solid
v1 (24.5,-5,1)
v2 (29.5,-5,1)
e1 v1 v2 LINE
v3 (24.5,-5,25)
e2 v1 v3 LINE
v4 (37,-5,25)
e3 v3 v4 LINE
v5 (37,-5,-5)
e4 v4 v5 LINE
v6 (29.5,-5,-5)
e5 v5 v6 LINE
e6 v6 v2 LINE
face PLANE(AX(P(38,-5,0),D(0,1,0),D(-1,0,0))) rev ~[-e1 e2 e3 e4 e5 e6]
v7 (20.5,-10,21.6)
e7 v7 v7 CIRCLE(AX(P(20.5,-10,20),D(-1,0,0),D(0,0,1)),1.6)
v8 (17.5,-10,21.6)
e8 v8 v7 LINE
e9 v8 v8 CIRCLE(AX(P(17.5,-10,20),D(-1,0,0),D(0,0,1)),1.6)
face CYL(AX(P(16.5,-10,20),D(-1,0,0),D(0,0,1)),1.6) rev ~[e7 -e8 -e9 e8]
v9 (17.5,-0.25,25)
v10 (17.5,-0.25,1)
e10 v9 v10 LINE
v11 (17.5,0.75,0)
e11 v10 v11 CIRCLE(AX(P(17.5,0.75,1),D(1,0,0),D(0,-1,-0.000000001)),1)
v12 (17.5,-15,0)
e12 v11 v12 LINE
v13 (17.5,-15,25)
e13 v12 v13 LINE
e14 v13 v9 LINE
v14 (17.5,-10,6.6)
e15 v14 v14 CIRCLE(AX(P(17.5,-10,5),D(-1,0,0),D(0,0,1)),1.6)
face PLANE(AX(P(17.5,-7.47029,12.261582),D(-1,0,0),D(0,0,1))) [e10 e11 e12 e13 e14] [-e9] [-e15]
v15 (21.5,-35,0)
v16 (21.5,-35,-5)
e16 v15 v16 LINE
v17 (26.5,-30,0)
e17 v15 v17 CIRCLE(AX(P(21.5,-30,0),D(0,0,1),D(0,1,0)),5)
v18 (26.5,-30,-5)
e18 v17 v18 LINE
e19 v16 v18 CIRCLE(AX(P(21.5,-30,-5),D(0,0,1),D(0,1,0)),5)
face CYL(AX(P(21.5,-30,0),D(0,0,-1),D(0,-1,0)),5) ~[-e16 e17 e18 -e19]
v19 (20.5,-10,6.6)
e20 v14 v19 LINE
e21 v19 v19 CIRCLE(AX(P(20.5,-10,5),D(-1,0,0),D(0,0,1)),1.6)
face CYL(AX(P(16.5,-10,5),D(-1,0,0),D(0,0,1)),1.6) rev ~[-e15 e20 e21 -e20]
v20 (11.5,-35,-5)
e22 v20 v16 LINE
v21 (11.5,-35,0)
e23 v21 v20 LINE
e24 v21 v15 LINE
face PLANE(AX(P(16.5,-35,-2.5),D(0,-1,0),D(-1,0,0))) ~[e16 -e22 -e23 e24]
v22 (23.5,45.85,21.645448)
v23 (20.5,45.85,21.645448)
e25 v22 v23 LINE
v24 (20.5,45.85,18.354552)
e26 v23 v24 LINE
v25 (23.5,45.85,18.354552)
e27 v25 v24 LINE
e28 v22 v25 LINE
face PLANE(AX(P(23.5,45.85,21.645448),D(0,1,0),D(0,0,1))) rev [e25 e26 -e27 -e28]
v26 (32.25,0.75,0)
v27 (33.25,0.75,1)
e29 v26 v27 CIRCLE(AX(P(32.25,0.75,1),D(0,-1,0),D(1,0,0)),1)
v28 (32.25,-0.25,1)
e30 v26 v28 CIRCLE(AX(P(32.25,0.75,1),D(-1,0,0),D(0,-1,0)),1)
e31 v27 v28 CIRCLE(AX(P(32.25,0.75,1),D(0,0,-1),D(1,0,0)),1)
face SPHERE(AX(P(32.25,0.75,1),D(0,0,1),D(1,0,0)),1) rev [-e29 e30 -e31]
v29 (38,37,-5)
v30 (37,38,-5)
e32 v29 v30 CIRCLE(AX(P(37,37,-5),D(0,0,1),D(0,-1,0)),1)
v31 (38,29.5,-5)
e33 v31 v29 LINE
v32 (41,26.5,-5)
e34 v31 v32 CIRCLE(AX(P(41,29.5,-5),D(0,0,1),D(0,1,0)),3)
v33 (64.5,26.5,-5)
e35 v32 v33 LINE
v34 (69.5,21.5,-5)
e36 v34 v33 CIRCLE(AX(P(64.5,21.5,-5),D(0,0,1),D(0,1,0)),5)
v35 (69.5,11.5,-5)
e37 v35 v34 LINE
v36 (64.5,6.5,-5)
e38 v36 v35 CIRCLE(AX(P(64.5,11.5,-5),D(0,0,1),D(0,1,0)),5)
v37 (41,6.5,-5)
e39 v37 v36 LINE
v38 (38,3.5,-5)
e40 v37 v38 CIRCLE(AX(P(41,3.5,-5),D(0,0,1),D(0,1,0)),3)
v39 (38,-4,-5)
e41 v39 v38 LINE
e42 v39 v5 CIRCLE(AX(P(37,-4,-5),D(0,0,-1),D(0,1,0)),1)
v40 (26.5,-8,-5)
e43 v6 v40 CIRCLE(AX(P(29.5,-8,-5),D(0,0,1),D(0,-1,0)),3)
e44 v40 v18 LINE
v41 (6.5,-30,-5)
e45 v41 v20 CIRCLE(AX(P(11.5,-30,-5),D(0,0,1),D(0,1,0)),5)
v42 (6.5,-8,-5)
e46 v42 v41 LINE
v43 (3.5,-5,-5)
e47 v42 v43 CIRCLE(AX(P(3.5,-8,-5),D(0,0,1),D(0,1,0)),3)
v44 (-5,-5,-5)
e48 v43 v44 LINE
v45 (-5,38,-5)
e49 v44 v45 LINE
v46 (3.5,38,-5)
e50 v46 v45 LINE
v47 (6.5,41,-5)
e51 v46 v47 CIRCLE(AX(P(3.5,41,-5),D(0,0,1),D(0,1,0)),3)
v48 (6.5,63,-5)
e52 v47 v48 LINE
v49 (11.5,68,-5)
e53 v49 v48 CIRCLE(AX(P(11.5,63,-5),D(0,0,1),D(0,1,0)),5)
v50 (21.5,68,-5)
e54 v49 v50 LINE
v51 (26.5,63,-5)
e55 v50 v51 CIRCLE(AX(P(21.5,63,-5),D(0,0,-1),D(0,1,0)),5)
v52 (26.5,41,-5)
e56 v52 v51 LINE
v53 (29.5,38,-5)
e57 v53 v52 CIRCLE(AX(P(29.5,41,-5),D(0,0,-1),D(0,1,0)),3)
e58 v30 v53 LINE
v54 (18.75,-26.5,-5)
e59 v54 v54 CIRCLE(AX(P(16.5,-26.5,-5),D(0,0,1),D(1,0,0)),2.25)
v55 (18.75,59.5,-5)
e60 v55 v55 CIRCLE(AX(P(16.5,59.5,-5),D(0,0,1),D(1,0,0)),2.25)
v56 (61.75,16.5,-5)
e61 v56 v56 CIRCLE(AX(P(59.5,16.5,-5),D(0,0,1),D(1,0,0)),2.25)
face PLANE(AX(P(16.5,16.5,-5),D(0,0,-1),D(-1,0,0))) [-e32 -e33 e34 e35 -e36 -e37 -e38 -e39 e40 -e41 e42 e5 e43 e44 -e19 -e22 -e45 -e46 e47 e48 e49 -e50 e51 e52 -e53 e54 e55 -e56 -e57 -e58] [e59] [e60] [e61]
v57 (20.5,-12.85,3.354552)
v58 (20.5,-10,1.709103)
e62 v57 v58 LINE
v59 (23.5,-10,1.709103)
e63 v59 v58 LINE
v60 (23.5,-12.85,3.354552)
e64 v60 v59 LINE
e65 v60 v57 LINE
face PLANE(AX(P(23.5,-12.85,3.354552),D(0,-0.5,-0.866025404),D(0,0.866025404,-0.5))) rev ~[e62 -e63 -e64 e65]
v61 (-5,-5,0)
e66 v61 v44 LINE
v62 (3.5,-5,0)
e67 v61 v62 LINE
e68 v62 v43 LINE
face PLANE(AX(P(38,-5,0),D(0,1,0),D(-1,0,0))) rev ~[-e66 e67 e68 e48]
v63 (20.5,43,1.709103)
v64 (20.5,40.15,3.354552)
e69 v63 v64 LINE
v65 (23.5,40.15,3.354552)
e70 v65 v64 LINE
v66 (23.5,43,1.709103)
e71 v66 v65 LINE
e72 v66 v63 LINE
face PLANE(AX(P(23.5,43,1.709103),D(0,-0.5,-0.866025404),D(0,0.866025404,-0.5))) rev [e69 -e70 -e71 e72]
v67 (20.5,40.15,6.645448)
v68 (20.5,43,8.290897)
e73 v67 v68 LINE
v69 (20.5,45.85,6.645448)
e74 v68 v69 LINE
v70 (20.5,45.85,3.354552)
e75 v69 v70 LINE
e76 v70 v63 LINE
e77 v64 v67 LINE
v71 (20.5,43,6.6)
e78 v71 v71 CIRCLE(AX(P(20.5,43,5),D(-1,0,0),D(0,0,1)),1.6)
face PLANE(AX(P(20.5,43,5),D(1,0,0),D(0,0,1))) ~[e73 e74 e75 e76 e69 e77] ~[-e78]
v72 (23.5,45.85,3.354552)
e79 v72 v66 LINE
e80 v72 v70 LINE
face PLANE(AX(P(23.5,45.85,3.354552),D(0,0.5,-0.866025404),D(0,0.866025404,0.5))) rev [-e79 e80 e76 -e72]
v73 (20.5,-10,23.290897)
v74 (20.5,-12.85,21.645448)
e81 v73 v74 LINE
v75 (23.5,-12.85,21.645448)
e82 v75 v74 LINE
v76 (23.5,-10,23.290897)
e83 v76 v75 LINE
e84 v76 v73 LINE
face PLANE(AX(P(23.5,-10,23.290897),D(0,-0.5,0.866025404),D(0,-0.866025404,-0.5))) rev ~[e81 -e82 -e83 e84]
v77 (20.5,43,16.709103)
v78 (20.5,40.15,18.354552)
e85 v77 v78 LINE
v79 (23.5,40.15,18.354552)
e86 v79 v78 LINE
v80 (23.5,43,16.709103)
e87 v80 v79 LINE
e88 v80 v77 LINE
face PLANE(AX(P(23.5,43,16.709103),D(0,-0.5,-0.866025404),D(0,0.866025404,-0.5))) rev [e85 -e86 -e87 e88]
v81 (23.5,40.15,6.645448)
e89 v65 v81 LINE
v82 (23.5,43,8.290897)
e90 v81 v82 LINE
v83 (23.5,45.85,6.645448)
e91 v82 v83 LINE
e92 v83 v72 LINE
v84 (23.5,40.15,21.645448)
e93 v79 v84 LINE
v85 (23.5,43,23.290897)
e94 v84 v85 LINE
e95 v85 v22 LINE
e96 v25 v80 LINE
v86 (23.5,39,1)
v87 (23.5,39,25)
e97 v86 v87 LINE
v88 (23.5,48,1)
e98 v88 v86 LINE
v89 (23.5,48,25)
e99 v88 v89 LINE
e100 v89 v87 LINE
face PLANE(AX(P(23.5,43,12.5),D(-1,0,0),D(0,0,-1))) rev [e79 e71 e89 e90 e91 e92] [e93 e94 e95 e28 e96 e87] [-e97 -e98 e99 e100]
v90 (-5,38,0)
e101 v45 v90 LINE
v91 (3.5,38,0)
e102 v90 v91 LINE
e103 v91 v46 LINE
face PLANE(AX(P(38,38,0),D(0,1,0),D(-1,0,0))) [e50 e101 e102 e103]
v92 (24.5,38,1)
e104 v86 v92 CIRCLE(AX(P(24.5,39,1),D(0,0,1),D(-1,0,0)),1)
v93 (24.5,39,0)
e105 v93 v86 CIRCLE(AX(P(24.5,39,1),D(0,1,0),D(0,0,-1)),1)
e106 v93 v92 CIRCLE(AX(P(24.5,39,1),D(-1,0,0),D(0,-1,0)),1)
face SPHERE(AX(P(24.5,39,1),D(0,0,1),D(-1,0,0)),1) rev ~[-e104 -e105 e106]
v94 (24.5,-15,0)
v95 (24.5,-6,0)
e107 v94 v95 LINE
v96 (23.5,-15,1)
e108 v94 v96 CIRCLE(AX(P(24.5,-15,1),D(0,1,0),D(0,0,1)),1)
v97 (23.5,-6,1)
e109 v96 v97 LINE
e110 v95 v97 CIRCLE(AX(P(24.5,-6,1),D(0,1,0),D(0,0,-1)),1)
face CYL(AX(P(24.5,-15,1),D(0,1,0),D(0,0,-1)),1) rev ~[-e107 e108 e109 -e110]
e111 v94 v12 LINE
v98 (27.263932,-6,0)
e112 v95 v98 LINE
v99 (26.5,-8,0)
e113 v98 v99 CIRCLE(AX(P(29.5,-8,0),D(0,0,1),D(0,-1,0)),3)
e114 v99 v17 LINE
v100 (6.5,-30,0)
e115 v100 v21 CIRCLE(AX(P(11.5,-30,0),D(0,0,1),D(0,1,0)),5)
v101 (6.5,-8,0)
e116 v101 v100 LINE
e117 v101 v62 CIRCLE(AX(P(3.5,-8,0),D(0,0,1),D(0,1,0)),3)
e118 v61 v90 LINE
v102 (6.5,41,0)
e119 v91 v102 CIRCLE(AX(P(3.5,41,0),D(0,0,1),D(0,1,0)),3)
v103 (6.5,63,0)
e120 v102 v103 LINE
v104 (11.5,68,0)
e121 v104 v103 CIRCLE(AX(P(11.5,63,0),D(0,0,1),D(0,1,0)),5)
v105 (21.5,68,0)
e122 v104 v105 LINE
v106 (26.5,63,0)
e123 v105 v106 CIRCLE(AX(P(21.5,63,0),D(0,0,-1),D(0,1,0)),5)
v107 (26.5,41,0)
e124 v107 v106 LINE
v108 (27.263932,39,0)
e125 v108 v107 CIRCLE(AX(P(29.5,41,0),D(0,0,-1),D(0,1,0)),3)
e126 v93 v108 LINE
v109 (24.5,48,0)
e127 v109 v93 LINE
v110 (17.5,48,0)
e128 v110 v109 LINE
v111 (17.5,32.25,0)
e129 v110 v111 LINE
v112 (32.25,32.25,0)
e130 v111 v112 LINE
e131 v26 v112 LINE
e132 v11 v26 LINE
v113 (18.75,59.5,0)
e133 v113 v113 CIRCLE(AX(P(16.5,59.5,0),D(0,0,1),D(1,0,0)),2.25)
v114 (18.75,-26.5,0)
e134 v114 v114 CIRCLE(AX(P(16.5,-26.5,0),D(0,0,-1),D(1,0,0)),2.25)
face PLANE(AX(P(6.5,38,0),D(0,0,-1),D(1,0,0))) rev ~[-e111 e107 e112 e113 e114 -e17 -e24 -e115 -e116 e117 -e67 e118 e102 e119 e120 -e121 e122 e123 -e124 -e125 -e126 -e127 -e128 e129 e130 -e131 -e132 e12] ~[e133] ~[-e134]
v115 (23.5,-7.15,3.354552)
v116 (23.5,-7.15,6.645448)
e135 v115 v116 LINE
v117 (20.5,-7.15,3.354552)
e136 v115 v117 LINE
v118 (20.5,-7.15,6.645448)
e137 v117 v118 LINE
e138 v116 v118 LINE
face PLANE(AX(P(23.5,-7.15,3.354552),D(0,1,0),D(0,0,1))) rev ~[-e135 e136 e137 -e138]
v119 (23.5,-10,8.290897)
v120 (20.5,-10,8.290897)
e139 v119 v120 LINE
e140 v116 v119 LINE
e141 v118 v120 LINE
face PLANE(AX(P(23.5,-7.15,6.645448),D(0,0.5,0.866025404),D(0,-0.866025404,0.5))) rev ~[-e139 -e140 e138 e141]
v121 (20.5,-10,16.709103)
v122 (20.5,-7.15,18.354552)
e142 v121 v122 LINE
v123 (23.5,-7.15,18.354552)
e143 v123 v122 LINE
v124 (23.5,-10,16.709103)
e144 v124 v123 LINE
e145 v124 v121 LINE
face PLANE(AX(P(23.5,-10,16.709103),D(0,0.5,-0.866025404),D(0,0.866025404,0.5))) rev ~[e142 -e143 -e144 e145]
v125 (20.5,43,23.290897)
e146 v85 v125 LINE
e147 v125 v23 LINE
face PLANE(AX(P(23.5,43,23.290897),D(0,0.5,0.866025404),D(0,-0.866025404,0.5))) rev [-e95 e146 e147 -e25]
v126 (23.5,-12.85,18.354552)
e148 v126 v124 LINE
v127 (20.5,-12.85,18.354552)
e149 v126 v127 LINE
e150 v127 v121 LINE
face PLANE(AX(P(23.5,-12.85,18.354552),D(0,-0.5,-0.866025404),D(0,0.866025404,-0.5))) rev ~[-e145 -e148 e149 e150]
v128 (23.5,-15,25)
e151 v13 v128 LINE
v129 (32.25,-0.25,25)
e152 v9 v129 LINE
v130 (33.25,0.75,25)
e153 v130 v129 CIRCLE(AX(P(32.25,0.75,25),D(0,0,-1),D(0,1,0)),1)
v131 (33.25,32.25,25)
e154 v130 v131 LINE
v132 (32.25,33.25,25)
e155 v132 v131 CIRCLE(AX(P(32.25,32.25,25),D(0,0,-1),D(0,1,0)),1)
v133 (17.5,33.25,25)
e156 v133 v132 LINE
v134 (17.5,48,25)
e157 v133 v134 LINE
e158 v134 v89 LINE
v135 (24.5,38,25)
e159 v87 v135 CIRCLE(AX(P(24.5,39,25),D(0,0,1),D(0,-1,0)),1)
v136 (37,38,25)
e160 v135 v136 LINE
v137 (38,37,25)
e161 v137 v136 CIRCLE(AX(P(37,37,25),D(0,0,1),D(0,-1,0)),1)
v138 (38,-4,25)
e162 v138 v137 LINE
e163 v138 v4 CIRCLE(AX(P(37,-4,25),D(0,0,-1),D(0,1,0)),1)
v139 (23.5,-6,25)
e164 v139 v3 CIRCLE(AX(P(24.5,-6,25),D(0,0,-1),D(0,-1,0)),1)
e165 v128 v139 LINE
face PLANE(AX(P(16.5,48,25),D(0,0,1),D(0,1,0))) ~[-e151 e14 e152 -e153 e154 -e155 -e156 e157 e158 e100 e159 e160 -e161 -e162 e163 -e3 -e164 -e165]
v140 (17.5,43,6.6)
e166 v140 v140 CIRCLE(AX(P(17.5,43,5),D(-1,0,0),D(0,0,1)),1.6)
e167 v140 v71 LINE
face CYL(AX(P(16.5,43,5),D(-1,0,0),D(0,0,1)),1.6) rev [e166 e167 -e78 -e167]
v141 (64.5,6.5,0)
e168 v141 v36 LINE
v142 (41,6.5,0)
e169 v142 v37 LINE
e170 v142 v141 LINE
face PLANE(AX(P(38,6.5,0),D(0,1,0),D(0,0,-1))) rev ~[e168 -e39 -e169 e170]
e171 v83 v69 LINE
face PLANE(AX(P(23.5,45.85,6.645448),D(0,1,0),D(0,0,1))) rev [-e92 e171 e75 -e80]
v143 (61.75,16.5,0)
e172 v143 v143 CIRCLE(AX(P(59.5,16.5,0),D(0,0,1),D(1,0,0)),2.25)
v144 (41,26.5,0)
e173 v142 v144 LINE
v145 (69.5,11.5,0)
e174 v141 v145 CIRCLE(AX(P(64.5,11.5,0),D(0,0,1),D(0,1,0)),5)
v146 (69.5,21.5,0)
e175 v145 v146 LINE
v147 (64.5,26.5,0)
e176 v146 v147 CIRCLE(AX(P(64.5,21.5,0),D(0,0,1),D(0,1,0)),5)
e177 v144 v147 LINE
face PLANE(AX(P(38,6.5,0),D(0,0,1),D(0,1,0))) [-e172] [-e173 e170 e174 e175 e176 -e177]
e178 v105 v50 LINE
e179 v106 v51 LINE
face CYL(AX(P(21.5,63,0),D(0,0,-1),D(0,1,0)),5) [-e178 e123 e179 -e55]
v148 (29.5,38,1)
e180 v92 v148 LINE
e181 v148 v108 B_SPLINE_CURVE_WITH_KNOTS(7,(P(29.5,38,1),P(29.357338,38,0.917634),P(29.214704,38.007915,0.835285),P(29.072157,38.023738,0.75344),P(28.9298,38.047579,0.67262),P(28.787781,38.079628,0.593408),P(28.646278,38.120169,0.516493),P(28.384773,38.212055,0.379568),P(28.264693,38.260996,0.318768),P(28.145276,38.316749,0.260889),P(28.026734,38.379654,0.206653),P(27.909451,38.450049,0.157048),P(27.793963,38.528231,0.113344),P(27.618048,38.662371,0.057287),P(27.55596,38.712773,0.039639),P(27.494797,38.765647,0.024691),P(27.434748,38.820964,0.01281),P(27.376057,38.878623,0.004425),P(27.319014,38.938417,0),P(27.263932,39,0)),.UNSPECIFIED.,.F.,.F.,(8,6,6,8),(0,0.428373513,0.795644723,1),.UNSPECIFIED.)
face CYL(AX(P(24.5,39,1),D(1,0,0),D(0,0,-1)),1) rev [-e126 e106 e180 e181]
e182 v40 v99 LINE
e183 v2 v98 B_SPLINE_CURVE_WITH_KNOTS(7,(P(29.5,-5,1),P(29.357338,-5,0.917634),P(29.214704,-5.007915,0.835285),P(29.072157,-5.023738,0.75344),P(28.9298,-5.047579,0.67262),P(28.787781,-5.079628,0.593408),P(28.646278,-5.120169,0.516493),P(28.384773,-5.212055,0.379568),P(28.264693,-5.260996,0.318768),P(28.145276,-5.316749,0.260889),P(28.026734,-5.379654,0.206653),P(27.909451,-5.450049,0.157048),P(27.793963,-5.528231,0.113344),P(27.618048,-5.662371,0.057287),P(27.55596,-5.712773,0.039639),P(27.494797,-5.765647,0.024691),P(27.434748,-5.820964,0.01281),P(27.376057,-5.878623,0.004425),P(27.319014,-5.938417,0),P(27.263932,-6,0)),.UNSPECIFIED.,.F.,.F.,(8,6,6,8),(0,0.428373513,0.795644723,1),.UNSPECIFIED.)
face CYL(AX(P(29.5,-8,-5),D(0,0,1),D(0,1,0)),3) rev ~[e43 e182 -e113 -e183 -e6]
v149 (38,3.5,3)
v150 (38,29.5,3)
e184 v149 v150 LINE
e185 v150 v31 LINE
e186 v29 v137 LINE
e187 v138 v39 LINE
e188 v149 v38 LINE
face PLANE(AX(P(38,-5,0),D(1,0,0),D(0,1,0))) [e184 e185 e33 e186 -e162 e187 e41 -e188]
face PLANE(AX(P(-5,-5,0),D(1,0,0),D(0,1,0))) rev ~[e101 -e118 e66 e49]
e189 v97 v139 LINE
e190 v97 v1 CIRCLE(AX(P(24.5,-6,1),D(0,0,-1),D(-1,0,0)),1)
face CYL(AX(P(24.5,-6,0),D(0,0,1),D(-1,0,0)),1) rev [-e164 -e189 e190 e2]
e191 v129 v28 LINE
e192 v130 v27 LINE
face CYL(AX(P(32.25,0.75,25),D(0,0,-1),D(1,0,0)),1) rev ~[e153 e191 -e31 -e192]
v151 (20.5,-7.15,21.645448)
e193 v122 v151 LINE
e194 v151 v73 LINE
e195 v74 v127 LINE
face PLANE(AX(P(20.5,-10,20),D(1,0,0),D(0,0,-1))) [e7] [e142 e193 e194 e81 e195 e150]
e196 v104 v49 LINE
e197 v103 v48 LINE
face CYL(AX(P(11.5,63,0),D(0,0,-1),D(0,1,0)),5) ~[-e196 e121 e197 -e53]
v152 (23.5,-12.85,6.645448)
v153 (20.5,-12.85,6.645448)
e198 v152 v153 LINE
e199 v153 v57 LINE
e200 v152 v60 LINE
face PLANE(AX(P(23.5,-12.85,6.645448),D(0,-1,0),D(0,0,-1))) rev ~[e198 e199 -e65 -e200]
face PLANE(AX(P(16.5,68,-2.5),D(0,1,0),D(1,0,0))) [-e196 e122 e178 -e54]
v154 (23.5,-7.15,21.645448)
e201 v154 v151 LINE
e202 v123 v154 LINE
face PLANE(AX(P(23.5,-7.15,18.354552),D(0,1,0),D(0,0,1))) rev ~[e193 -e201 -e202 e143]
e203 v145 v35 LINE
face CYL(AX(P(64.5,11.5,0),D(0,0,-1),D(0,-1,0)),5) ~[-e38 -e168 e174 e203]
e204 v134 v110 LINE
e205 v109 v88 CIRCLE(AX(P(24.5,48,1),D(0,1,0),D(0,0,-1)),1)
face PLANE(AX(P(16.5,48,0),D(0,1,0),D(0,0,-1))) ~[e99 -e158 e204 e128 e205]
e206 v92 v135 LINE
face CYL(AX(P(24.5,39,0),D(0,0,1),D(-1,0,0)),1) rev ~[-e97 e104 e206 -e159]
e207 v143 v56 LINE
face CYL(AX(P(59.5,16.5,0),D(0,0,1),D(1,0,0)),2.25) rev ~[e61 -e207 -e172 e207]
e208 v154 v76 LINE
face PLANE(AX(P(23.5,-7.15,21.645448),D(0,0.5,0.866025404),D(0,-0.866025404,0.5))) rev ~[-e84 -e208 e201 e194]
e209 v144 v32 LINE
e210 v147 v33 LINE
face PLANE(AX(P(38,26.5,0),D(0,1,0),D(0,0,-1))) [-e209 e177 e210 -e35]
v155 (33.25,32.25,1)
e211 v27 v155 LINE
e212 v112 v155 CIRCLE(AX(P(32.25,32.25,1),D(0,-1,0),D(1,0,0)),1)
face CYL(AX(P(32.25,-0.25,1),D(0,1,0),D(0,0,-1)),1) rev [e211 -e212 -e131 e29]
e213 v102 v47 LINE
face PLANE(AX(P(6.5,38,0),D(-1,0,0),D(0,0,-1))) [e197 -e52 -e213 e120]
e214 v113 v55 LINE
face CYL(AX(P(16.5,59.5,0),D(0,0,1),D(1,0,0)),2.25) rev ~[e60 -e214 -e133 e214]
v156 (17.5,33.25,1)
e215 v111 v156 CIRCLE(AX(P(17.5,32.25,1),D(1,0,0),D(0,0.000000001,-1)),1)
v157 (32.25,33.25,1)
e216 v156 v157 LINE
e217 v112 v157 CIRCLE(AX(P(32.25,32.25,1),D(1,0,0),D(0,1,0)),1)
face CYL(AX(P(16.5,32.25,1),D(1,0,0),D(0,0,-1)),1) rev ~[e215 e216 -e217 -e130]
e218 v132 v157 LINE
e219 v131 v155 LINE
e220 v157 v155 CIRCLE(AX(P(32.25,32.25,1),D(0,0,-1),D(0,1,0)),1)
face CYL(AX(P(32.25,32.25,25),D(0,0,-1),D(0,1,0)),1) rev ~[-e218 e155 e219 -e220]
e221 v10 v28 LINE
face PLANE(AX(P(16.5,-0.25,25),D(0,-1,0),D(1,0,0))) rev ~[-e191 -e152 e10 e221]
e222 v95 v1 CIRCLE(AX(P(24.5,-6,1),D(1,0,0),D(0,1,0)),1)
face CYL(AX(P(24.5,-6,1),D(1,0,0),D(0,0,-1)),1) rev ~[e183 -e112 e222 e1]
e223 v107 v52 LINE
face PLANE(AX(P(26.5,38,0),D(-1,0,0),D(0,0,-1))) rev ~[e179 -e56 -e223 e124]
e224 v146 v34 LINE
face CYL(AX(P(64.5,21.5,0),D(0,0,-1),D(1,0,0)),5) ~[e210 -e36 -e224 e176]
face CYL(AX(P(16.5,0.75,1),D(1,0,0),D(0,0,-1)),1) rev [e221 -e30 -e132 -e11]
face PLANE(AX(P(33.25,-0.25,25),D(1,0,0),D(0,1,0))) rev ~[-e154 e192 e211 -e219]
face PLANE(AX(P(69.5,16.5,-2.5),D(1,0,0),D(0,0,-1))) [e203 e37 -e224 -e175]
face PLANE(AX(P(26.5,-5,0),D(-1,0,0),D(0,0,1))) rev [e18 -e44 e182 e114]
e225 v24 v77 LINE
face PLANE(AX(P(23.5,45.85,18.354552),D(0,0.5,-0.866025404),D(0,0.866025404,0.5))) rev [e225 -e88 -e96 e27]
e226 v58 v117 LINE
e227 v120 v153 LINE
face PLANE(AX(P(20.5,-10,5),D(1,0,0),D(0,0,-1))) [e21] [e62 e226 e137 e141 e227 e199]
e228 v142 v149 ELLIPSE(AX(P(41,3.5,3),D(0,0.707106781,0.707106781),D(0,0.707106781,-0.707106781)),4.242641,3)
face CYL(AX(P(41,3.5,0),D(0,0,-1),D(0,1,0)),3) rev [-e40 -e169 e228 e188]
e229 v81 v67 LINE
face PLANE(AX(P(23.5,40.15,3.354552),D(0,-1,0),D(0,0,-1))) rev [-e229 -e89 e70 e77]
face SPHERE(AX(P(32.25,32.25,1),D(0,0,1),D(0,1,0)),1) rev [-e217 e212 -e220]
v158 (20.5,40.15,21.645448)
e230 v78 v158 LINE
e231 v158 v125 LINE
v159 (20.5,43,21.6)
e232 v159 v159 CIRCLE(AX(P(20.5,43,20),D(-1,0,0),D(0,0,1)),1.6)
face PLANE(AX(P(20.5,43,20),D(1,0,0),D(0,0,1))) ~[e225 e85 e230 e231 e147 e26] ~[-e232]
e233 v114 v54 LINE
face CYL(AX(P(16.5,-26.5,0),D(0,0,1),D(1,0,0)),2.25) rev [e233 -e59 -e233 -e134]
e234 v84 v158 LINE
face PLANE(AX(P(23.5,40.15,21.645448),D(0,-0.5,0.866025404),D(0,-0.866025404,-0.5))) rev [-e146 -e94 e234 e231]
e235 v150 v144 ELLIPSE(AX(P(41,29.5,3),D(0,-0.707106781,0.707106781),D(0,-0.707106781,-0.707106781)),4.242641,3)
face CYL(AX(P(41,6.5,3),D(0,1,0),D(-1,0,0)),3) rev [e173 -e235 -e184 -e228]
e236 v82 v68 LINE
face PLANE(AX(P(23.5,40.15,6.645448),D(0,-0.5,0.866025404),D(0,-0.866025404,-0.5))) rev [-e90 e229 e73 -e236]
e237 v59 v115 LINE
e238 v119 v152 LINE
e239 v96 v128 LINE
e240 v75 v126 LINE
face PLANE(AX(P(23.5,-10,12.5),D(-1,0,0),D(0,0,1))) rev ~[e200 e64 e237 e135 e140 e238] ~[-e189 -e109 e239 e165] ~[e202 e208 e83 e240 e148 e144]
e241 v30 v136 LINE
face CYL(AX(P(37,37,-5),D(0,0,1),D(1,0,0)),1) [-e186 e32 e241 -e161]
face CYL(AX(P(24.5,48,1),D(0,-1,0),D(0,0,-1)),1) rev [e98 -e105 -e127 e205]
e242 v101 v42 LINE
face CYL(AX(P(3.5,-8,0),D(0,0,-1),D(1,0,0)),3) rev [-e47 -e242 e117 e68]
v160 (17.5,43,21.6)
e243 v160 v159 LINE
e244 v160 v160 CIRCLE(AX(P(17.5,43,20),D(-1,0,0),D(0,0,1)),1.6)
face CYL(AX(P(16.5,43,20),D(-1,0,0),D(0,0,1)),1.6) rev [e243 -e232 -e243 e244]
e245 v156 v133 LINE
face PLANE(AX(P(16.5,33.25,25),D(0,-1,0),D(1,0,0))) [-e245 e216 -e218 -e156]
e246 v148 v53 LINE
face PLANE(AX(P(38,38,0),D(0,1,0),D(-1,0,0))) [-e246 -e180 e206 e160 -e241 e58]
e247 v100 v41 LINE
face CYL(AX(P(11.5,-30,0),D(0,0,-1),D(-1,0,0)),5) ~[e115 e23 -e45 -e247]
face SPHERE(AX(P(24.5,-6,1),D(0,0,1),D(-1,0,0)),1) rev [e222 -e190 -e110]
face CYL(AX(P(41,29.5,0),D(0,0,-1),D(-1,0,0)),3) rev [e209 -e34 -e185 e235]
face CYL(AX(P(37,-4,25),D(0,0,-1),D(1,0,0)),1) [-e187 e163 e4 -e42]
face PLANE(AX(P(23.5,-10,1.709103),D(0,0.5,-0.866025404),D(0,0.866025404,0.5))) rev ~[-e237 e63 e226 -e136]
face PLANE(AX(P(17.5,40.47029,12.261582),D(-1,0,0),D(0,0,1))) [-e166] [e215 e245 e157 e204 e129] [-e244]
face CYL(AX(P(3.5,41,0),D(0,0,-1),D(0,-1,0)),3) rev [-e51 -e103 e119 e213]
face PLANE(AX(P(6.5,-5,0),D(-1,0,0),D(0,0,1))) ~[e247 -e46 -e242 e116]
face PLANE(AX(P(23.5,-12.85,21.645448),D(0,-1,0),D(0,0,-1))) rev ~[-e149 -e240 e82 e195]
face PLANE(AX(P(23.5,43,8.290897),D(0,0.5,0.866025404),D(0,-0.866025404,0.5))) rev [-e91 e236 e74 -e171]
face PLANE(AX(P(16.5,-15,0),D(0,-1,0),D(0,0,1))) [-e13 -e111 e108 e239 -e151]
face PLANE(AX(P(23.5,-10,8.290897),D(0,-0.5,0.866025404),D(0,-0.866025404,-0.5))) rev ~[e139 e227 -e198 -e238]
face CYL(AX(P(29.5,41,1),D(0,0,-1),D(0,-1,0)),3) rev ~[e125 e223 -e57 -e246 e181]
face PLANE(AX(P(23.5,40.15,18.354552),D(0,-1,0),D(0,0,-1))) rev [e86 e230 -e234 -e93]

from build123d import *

# Parameters (mm, degrees)
SKETCH1_W           = 43
SKETCH1_H           = 43
SKETCH1_W_2         = 33
SKETCH1_H_2         = 33
BOSS_EXTRUDE1_DEPTH = 25
SKETCH3_W           = 43
SKETCH3_H           = 43
BOSS_EXTRUDE2_DEPTH = 5
SKETCH4_W           = 20
SKETCH4_H           = 5
BOSS_EXTRUDE3_DEPTH = 30
SKETCH5_R           = 2.25
CUT_EXTRUDE1_DEPTH  = 6
SKETCH_1_W          = 21.5
SKETCH_1_H          = 43
CUT_EXTRUDE_1_DEPTH = 25
SKETCH_3_W          = 25
SKETCH_3_H          = 10
EXTRUDE_1_DEPTH     = 7
FILLET_1_R          = 1
SKETCH_4_R          = 1.6
CUT_EXTRUDE_2_DEPTH = 22.5
CUT_EXTRUDE_3_DEPTH = 3
SKETCH_6_W          = 16.75
SKETCH_6_H          = 33.5
CUT_EXTRUDE_4_DEPTH = 25
FILLET_2_R          = 1
FILLET_3_R          = 1
FILLET_4_R          = 5
FILLET_6_R          = 1
CUT_EXTRUDE_5_DEPTH = 1
SKETCH_9_W          = 5
SKETCH_9_H          = 20
EXTRUDE_2_DEPTH     = 31.5
SKETCH_10_R         = 2.25
CUT_EXTRUDE_6_DEPTH = 6
FILLET_7_R          = 5
FILLET_8_R          = 3
FILLET_9_R          = 1


with BuildPart() as part:
    # Sketch1 → Boss-Extrude1 (new body)
    with BuildSketch(Plane.XY):
        with Locations((16.5, 16.5)):
            Rectangle(SKETCH1_W, SKETCH1_H)
        with Locations((16.5, 16.5)):
            Rectangle(SKETCH1_W_2, SKETCH1_H_2, mode=Mode.SUBTRACT)
    extrude(amount=BOSS_EXTRUDE1_DEPTH)

    # Sketch3 → Boss-Extrude2 (add)
    with BuildSketch(Plane(origin=(0, 0, 0), x_dir=(-1, 0, 0), z_dir=(0, 0, -1))):
        with Locations((-16.5, 16.5)):
            Rectangle(SKETCH3_W, SKETCH3_H)
    extrude(amount=BOSS_EXTRUDE2_DEPTH)

    # Sketch4 → Boss-Extrude3 (add)
    with BuildSketch(Plane(origin=(0, 38, 0), x_dir=(1, 0, 0), z_dir=(0, 1, 0))):
        with Locations((16.5, 2.5)):
            Rectangle(SKETCH4_W, SKETCH4_H)
    boss_extrude3 = extrude(amount=BOSS_EXTRUDE3_DEPTH)

    # Sketch5 → Cut-Extrude1 (cut, through all)
    with BuildSketch(Plane.XY):
        with Locations((16.5, 59.5)):
            Circle(SKETCH5_R)
    cut_extrude1 = extrude(amount=-CUT_EXTRUDE1_DEPTH, mode=Mode.SUBTRACT)

    # Mirror1: Boss-Extrude3, Cut-Extrude1 across plane
    add(boss_extrude3.mirror(Plane(origin=(0, 16.5, 0), x_dir=(0, 0, 1), z_dir=(0, -1, 0))))
    add(cut_extrude1.mirror(Plane(origin=(0, 16.5, 0), x_dir=(0, 0, 1), z_dir=(0, -1, 0))), mode=Mode.SUBTRACT)

    # Эскиз1 → Вырез-Вытянуть1 (cut)
    with BuildSketch(Plane.XY.offset(25)):
        with Locations((5.75, 16.5)):
            Rectangle(SKETCH_1_W, SKETCH_1_H)
    extrude(amount=-CUT_EXTRUDE_1_DEPTH, mode=Mode.SUBTRACT)

    # Эскиз3 → Бобышка-Вытянуть1 (add)
    with BuildSketch(Plane.ZY.offset(-16.5)):
        with Locations((12.5, -10)):
            Rectangle(SKETCH_3_W, SKETCH_3_H)
    extrude_1 = extrude(amount=-EXTRUDE_1_DEPTH)

    # Скругление1
    fillet_1_edges = [part.edges().sort_by_distance(p)[0] for p in [
        (23.5, -5, 12.5),
    ]]
    fillet(fillet_1_edges, radius=FILLET_1_R)

    # Эскиз4 → Вырез-Вытянуть2 (cut, through all)
    with BuildSketch(Plane.ZY.offset(-16.5)):
        with Locations((20, -10)):
            Circle(SKETCH_4_R)
        with Locations((5, -10)):
            Circle(SKETCH_4_R)
    cut_extrude_2 = extrude(amount=-CUT_EXTRUDE_2_DEPTH, mode=Mode.SUBTRACT)

    # Эскиз5 → Вырез-Вытянуть3 (cut)
    with BuildSketch(Plane(origin=(23.5, 0, 0), x_dir=(0, 0, -1), z_dir=(1, 0, 0))):
        Polygon((-18.354551733, -12.85), (-16.709103466, -10), (-18.354551733, -7.15), (-21.645448267, -7.15), (-23.290896534, -10), (-21.645448267, -12.85), align=None)
        Polygon((-6.645448267, -12.85), (-3.354551733, -12.85), (-1.709103466, -10), (-3.354551733, -7.15), (-6.645448267, -7.15), (-8.290896534, -10), align=None)
    cut_extrude_3 = extrude(amount=-CUT_EXTRUDE_3_DEPTH, mode=Mode.SUBTRACT)

    # Зеркальное отражение2: Бобышка-Вытянуть1 across plane
    add(extrude_1.mirror(Plane(origin=(0, 16.5, 0), x_dir=(0, 0, 1), z_dir=(0, -1, 0))))

    # Зеркальное отражение3: Вырез-Вытянуть2 across plane
    add(cut_extrude_2.mirror(Plane(origin=(0, 16.5, 0), x_dir=(0, 0, 1), z_dir=(0, -1, 0))), mode=Mode.SUBTRACT)

    # Зеркальное отражение4: Вырез-Вытянуть3 across plane
    add(cut_extrude_3.mirror(Plane(origin=(0, 16.5, 0), x_dir=(0, 0, 1), z_dir=(0, -1, 0))), mode=Mode.SUBTRACT)

    # Эскиз6 → Вырез-Вытянуть4 (cut)
    with BuildSketch(Plane.XY.offset(25)):
        with Locations((24.875, 16.5)):
            Rectangle(SKETCH_6_W, SKETCH_6_H)
    extrude(amount=-CUT_EXTRUDE_4_DEPTH, mode=Mode.SUBTRACT)

    # Скругление2
    fillet_2_edges = [part.edges().sort_by_distance(p)[0] for p in [
        (23.5, 38, 12.5),
    ]]
    fillet(fillet_2_edges, radius=FILLET_2_R)

    # Скругление3
    fillet_3_edges = [part.edges().sort_by_distance(p)[0] for p in [
        (25.5, -5, 0),
        (23.5, -10.5, 0),
        (23.792893219, -5.292893219, 0),
        (23.5, 43.5, 0),
        (25.5, 38, 0),
        (23.792893219, 38.292893219, 0),
    ]]
    fillet(fillet_3_edges, radius=FILLET_3_R)

    # Скругление4
    fillet_4_edges = [part.edges().sort_by_distance(p)[0] for p in [
        (6.5, -35, -2.5),
        (26.5, -35, -2.5),
        (6.5, 68, -2.5),
        (26.5, 68, -2.5),
    ]]
    fillet(fillet_4_edges, radius=FILLET_4_R)

    # Скругление6
    fillet_6_edges = [part.edges().sort_by_distance(p)[0] for p in [
        (33.25, 33.25, 12.5),
        (33.25, -0.25, 12.5),
        (24.875, 33.25, 0),
        (33.25, 16.5, 0),
        (24.875, -0.25, 0),
    ]]
    fillet(fillet_6_edges, radius=FILLET_6_R)

    # Эскиз7 → Вырез-Вытянуть5 (cut)
    with BuildSketch(Plane.ZY.offset(-16.5)):
        with BuildLine():
            Line((0, 48), (0, 32.25))
            ThreePointArc((0, 32.25), (0.292893219, 32.957106781), (1, 33.25))
            Line((1, 33.25), (25, 33.25))
            Line((25, 33.25), (25, 48))
            Line((25, 48), (0, 48))
        make_face()
        with BuildLine():
            Line((25, -15), (25, -0.25))
            Line((25, -0.25), (1, -0.25))
            ThreePointArc((1, -0.25), (0.292893219, 0.042893219), (0, 0.75))
            Line((0, 0.75), (0, -15))
            Line((0, -15), (25, -15))
        make_face()
    extrude(amount=-CUT_EXTRUDE_5_DEPTH, mode=Mode.SUBTRACT)

    # Эскиз9 → Бобышка-Вытянуть2 (add)
    with BuildSketch(Plane(origin=(38, 0, 0), x_dir=(0, 0, -1), z_dir=(1, 0, 0))):
        with Locations((2.5, 16.5)):
            Rectangle(SKETCH_9_W, SKETCH_9_H)
    extrude(amount=EXTRUDE_2_DEPTH)

    # Эскиз10 → Вырез-Вытянуть6 (cut, through all)
    with BuildSketch(Plane.XY):
        with Locations((59.5, 16.5)):
            Circle(SKETCH_10_R)
    extrude(amount=-CUT_EXTRUDE_6_DEPTH, mode=Mode.SUBTRACT)

    # Скругление7
    fillet_7_edges = [part.edges().sort_by_distance(p)[0] for p in [
        (69.5, 6.5, -2.5),
        (69.5, 26.5, -2.5),
    ]]
    fillet(fillet_7_edges, radius=FILLET_7_R)

    # Скругление8
    fillet_8_edges = [part.edges().sort_by_distance(p)[0] for p in [
        (6.5, -5, -2.5),
        (6.5, 38, -2.5),
        (26.5, 38, -2),
        (26.5, -5, -2),
        (38, 6.5, -2.5),
        (38, 26.5, -2.5),
        (38, 16.5, 0),
    ]]
    fillet(fillet_8_edges, radius=FILLET_8_R)

    # Скругление9
    fillet_9_edges = [part.edges().sort_by_distance(p)[0] for p in [
        (38, -5, 10),
        (38, 38, 10),
    ]]
    fillet(fillet_9_edges, radius=FILLET_9_R)


solid = part.part
